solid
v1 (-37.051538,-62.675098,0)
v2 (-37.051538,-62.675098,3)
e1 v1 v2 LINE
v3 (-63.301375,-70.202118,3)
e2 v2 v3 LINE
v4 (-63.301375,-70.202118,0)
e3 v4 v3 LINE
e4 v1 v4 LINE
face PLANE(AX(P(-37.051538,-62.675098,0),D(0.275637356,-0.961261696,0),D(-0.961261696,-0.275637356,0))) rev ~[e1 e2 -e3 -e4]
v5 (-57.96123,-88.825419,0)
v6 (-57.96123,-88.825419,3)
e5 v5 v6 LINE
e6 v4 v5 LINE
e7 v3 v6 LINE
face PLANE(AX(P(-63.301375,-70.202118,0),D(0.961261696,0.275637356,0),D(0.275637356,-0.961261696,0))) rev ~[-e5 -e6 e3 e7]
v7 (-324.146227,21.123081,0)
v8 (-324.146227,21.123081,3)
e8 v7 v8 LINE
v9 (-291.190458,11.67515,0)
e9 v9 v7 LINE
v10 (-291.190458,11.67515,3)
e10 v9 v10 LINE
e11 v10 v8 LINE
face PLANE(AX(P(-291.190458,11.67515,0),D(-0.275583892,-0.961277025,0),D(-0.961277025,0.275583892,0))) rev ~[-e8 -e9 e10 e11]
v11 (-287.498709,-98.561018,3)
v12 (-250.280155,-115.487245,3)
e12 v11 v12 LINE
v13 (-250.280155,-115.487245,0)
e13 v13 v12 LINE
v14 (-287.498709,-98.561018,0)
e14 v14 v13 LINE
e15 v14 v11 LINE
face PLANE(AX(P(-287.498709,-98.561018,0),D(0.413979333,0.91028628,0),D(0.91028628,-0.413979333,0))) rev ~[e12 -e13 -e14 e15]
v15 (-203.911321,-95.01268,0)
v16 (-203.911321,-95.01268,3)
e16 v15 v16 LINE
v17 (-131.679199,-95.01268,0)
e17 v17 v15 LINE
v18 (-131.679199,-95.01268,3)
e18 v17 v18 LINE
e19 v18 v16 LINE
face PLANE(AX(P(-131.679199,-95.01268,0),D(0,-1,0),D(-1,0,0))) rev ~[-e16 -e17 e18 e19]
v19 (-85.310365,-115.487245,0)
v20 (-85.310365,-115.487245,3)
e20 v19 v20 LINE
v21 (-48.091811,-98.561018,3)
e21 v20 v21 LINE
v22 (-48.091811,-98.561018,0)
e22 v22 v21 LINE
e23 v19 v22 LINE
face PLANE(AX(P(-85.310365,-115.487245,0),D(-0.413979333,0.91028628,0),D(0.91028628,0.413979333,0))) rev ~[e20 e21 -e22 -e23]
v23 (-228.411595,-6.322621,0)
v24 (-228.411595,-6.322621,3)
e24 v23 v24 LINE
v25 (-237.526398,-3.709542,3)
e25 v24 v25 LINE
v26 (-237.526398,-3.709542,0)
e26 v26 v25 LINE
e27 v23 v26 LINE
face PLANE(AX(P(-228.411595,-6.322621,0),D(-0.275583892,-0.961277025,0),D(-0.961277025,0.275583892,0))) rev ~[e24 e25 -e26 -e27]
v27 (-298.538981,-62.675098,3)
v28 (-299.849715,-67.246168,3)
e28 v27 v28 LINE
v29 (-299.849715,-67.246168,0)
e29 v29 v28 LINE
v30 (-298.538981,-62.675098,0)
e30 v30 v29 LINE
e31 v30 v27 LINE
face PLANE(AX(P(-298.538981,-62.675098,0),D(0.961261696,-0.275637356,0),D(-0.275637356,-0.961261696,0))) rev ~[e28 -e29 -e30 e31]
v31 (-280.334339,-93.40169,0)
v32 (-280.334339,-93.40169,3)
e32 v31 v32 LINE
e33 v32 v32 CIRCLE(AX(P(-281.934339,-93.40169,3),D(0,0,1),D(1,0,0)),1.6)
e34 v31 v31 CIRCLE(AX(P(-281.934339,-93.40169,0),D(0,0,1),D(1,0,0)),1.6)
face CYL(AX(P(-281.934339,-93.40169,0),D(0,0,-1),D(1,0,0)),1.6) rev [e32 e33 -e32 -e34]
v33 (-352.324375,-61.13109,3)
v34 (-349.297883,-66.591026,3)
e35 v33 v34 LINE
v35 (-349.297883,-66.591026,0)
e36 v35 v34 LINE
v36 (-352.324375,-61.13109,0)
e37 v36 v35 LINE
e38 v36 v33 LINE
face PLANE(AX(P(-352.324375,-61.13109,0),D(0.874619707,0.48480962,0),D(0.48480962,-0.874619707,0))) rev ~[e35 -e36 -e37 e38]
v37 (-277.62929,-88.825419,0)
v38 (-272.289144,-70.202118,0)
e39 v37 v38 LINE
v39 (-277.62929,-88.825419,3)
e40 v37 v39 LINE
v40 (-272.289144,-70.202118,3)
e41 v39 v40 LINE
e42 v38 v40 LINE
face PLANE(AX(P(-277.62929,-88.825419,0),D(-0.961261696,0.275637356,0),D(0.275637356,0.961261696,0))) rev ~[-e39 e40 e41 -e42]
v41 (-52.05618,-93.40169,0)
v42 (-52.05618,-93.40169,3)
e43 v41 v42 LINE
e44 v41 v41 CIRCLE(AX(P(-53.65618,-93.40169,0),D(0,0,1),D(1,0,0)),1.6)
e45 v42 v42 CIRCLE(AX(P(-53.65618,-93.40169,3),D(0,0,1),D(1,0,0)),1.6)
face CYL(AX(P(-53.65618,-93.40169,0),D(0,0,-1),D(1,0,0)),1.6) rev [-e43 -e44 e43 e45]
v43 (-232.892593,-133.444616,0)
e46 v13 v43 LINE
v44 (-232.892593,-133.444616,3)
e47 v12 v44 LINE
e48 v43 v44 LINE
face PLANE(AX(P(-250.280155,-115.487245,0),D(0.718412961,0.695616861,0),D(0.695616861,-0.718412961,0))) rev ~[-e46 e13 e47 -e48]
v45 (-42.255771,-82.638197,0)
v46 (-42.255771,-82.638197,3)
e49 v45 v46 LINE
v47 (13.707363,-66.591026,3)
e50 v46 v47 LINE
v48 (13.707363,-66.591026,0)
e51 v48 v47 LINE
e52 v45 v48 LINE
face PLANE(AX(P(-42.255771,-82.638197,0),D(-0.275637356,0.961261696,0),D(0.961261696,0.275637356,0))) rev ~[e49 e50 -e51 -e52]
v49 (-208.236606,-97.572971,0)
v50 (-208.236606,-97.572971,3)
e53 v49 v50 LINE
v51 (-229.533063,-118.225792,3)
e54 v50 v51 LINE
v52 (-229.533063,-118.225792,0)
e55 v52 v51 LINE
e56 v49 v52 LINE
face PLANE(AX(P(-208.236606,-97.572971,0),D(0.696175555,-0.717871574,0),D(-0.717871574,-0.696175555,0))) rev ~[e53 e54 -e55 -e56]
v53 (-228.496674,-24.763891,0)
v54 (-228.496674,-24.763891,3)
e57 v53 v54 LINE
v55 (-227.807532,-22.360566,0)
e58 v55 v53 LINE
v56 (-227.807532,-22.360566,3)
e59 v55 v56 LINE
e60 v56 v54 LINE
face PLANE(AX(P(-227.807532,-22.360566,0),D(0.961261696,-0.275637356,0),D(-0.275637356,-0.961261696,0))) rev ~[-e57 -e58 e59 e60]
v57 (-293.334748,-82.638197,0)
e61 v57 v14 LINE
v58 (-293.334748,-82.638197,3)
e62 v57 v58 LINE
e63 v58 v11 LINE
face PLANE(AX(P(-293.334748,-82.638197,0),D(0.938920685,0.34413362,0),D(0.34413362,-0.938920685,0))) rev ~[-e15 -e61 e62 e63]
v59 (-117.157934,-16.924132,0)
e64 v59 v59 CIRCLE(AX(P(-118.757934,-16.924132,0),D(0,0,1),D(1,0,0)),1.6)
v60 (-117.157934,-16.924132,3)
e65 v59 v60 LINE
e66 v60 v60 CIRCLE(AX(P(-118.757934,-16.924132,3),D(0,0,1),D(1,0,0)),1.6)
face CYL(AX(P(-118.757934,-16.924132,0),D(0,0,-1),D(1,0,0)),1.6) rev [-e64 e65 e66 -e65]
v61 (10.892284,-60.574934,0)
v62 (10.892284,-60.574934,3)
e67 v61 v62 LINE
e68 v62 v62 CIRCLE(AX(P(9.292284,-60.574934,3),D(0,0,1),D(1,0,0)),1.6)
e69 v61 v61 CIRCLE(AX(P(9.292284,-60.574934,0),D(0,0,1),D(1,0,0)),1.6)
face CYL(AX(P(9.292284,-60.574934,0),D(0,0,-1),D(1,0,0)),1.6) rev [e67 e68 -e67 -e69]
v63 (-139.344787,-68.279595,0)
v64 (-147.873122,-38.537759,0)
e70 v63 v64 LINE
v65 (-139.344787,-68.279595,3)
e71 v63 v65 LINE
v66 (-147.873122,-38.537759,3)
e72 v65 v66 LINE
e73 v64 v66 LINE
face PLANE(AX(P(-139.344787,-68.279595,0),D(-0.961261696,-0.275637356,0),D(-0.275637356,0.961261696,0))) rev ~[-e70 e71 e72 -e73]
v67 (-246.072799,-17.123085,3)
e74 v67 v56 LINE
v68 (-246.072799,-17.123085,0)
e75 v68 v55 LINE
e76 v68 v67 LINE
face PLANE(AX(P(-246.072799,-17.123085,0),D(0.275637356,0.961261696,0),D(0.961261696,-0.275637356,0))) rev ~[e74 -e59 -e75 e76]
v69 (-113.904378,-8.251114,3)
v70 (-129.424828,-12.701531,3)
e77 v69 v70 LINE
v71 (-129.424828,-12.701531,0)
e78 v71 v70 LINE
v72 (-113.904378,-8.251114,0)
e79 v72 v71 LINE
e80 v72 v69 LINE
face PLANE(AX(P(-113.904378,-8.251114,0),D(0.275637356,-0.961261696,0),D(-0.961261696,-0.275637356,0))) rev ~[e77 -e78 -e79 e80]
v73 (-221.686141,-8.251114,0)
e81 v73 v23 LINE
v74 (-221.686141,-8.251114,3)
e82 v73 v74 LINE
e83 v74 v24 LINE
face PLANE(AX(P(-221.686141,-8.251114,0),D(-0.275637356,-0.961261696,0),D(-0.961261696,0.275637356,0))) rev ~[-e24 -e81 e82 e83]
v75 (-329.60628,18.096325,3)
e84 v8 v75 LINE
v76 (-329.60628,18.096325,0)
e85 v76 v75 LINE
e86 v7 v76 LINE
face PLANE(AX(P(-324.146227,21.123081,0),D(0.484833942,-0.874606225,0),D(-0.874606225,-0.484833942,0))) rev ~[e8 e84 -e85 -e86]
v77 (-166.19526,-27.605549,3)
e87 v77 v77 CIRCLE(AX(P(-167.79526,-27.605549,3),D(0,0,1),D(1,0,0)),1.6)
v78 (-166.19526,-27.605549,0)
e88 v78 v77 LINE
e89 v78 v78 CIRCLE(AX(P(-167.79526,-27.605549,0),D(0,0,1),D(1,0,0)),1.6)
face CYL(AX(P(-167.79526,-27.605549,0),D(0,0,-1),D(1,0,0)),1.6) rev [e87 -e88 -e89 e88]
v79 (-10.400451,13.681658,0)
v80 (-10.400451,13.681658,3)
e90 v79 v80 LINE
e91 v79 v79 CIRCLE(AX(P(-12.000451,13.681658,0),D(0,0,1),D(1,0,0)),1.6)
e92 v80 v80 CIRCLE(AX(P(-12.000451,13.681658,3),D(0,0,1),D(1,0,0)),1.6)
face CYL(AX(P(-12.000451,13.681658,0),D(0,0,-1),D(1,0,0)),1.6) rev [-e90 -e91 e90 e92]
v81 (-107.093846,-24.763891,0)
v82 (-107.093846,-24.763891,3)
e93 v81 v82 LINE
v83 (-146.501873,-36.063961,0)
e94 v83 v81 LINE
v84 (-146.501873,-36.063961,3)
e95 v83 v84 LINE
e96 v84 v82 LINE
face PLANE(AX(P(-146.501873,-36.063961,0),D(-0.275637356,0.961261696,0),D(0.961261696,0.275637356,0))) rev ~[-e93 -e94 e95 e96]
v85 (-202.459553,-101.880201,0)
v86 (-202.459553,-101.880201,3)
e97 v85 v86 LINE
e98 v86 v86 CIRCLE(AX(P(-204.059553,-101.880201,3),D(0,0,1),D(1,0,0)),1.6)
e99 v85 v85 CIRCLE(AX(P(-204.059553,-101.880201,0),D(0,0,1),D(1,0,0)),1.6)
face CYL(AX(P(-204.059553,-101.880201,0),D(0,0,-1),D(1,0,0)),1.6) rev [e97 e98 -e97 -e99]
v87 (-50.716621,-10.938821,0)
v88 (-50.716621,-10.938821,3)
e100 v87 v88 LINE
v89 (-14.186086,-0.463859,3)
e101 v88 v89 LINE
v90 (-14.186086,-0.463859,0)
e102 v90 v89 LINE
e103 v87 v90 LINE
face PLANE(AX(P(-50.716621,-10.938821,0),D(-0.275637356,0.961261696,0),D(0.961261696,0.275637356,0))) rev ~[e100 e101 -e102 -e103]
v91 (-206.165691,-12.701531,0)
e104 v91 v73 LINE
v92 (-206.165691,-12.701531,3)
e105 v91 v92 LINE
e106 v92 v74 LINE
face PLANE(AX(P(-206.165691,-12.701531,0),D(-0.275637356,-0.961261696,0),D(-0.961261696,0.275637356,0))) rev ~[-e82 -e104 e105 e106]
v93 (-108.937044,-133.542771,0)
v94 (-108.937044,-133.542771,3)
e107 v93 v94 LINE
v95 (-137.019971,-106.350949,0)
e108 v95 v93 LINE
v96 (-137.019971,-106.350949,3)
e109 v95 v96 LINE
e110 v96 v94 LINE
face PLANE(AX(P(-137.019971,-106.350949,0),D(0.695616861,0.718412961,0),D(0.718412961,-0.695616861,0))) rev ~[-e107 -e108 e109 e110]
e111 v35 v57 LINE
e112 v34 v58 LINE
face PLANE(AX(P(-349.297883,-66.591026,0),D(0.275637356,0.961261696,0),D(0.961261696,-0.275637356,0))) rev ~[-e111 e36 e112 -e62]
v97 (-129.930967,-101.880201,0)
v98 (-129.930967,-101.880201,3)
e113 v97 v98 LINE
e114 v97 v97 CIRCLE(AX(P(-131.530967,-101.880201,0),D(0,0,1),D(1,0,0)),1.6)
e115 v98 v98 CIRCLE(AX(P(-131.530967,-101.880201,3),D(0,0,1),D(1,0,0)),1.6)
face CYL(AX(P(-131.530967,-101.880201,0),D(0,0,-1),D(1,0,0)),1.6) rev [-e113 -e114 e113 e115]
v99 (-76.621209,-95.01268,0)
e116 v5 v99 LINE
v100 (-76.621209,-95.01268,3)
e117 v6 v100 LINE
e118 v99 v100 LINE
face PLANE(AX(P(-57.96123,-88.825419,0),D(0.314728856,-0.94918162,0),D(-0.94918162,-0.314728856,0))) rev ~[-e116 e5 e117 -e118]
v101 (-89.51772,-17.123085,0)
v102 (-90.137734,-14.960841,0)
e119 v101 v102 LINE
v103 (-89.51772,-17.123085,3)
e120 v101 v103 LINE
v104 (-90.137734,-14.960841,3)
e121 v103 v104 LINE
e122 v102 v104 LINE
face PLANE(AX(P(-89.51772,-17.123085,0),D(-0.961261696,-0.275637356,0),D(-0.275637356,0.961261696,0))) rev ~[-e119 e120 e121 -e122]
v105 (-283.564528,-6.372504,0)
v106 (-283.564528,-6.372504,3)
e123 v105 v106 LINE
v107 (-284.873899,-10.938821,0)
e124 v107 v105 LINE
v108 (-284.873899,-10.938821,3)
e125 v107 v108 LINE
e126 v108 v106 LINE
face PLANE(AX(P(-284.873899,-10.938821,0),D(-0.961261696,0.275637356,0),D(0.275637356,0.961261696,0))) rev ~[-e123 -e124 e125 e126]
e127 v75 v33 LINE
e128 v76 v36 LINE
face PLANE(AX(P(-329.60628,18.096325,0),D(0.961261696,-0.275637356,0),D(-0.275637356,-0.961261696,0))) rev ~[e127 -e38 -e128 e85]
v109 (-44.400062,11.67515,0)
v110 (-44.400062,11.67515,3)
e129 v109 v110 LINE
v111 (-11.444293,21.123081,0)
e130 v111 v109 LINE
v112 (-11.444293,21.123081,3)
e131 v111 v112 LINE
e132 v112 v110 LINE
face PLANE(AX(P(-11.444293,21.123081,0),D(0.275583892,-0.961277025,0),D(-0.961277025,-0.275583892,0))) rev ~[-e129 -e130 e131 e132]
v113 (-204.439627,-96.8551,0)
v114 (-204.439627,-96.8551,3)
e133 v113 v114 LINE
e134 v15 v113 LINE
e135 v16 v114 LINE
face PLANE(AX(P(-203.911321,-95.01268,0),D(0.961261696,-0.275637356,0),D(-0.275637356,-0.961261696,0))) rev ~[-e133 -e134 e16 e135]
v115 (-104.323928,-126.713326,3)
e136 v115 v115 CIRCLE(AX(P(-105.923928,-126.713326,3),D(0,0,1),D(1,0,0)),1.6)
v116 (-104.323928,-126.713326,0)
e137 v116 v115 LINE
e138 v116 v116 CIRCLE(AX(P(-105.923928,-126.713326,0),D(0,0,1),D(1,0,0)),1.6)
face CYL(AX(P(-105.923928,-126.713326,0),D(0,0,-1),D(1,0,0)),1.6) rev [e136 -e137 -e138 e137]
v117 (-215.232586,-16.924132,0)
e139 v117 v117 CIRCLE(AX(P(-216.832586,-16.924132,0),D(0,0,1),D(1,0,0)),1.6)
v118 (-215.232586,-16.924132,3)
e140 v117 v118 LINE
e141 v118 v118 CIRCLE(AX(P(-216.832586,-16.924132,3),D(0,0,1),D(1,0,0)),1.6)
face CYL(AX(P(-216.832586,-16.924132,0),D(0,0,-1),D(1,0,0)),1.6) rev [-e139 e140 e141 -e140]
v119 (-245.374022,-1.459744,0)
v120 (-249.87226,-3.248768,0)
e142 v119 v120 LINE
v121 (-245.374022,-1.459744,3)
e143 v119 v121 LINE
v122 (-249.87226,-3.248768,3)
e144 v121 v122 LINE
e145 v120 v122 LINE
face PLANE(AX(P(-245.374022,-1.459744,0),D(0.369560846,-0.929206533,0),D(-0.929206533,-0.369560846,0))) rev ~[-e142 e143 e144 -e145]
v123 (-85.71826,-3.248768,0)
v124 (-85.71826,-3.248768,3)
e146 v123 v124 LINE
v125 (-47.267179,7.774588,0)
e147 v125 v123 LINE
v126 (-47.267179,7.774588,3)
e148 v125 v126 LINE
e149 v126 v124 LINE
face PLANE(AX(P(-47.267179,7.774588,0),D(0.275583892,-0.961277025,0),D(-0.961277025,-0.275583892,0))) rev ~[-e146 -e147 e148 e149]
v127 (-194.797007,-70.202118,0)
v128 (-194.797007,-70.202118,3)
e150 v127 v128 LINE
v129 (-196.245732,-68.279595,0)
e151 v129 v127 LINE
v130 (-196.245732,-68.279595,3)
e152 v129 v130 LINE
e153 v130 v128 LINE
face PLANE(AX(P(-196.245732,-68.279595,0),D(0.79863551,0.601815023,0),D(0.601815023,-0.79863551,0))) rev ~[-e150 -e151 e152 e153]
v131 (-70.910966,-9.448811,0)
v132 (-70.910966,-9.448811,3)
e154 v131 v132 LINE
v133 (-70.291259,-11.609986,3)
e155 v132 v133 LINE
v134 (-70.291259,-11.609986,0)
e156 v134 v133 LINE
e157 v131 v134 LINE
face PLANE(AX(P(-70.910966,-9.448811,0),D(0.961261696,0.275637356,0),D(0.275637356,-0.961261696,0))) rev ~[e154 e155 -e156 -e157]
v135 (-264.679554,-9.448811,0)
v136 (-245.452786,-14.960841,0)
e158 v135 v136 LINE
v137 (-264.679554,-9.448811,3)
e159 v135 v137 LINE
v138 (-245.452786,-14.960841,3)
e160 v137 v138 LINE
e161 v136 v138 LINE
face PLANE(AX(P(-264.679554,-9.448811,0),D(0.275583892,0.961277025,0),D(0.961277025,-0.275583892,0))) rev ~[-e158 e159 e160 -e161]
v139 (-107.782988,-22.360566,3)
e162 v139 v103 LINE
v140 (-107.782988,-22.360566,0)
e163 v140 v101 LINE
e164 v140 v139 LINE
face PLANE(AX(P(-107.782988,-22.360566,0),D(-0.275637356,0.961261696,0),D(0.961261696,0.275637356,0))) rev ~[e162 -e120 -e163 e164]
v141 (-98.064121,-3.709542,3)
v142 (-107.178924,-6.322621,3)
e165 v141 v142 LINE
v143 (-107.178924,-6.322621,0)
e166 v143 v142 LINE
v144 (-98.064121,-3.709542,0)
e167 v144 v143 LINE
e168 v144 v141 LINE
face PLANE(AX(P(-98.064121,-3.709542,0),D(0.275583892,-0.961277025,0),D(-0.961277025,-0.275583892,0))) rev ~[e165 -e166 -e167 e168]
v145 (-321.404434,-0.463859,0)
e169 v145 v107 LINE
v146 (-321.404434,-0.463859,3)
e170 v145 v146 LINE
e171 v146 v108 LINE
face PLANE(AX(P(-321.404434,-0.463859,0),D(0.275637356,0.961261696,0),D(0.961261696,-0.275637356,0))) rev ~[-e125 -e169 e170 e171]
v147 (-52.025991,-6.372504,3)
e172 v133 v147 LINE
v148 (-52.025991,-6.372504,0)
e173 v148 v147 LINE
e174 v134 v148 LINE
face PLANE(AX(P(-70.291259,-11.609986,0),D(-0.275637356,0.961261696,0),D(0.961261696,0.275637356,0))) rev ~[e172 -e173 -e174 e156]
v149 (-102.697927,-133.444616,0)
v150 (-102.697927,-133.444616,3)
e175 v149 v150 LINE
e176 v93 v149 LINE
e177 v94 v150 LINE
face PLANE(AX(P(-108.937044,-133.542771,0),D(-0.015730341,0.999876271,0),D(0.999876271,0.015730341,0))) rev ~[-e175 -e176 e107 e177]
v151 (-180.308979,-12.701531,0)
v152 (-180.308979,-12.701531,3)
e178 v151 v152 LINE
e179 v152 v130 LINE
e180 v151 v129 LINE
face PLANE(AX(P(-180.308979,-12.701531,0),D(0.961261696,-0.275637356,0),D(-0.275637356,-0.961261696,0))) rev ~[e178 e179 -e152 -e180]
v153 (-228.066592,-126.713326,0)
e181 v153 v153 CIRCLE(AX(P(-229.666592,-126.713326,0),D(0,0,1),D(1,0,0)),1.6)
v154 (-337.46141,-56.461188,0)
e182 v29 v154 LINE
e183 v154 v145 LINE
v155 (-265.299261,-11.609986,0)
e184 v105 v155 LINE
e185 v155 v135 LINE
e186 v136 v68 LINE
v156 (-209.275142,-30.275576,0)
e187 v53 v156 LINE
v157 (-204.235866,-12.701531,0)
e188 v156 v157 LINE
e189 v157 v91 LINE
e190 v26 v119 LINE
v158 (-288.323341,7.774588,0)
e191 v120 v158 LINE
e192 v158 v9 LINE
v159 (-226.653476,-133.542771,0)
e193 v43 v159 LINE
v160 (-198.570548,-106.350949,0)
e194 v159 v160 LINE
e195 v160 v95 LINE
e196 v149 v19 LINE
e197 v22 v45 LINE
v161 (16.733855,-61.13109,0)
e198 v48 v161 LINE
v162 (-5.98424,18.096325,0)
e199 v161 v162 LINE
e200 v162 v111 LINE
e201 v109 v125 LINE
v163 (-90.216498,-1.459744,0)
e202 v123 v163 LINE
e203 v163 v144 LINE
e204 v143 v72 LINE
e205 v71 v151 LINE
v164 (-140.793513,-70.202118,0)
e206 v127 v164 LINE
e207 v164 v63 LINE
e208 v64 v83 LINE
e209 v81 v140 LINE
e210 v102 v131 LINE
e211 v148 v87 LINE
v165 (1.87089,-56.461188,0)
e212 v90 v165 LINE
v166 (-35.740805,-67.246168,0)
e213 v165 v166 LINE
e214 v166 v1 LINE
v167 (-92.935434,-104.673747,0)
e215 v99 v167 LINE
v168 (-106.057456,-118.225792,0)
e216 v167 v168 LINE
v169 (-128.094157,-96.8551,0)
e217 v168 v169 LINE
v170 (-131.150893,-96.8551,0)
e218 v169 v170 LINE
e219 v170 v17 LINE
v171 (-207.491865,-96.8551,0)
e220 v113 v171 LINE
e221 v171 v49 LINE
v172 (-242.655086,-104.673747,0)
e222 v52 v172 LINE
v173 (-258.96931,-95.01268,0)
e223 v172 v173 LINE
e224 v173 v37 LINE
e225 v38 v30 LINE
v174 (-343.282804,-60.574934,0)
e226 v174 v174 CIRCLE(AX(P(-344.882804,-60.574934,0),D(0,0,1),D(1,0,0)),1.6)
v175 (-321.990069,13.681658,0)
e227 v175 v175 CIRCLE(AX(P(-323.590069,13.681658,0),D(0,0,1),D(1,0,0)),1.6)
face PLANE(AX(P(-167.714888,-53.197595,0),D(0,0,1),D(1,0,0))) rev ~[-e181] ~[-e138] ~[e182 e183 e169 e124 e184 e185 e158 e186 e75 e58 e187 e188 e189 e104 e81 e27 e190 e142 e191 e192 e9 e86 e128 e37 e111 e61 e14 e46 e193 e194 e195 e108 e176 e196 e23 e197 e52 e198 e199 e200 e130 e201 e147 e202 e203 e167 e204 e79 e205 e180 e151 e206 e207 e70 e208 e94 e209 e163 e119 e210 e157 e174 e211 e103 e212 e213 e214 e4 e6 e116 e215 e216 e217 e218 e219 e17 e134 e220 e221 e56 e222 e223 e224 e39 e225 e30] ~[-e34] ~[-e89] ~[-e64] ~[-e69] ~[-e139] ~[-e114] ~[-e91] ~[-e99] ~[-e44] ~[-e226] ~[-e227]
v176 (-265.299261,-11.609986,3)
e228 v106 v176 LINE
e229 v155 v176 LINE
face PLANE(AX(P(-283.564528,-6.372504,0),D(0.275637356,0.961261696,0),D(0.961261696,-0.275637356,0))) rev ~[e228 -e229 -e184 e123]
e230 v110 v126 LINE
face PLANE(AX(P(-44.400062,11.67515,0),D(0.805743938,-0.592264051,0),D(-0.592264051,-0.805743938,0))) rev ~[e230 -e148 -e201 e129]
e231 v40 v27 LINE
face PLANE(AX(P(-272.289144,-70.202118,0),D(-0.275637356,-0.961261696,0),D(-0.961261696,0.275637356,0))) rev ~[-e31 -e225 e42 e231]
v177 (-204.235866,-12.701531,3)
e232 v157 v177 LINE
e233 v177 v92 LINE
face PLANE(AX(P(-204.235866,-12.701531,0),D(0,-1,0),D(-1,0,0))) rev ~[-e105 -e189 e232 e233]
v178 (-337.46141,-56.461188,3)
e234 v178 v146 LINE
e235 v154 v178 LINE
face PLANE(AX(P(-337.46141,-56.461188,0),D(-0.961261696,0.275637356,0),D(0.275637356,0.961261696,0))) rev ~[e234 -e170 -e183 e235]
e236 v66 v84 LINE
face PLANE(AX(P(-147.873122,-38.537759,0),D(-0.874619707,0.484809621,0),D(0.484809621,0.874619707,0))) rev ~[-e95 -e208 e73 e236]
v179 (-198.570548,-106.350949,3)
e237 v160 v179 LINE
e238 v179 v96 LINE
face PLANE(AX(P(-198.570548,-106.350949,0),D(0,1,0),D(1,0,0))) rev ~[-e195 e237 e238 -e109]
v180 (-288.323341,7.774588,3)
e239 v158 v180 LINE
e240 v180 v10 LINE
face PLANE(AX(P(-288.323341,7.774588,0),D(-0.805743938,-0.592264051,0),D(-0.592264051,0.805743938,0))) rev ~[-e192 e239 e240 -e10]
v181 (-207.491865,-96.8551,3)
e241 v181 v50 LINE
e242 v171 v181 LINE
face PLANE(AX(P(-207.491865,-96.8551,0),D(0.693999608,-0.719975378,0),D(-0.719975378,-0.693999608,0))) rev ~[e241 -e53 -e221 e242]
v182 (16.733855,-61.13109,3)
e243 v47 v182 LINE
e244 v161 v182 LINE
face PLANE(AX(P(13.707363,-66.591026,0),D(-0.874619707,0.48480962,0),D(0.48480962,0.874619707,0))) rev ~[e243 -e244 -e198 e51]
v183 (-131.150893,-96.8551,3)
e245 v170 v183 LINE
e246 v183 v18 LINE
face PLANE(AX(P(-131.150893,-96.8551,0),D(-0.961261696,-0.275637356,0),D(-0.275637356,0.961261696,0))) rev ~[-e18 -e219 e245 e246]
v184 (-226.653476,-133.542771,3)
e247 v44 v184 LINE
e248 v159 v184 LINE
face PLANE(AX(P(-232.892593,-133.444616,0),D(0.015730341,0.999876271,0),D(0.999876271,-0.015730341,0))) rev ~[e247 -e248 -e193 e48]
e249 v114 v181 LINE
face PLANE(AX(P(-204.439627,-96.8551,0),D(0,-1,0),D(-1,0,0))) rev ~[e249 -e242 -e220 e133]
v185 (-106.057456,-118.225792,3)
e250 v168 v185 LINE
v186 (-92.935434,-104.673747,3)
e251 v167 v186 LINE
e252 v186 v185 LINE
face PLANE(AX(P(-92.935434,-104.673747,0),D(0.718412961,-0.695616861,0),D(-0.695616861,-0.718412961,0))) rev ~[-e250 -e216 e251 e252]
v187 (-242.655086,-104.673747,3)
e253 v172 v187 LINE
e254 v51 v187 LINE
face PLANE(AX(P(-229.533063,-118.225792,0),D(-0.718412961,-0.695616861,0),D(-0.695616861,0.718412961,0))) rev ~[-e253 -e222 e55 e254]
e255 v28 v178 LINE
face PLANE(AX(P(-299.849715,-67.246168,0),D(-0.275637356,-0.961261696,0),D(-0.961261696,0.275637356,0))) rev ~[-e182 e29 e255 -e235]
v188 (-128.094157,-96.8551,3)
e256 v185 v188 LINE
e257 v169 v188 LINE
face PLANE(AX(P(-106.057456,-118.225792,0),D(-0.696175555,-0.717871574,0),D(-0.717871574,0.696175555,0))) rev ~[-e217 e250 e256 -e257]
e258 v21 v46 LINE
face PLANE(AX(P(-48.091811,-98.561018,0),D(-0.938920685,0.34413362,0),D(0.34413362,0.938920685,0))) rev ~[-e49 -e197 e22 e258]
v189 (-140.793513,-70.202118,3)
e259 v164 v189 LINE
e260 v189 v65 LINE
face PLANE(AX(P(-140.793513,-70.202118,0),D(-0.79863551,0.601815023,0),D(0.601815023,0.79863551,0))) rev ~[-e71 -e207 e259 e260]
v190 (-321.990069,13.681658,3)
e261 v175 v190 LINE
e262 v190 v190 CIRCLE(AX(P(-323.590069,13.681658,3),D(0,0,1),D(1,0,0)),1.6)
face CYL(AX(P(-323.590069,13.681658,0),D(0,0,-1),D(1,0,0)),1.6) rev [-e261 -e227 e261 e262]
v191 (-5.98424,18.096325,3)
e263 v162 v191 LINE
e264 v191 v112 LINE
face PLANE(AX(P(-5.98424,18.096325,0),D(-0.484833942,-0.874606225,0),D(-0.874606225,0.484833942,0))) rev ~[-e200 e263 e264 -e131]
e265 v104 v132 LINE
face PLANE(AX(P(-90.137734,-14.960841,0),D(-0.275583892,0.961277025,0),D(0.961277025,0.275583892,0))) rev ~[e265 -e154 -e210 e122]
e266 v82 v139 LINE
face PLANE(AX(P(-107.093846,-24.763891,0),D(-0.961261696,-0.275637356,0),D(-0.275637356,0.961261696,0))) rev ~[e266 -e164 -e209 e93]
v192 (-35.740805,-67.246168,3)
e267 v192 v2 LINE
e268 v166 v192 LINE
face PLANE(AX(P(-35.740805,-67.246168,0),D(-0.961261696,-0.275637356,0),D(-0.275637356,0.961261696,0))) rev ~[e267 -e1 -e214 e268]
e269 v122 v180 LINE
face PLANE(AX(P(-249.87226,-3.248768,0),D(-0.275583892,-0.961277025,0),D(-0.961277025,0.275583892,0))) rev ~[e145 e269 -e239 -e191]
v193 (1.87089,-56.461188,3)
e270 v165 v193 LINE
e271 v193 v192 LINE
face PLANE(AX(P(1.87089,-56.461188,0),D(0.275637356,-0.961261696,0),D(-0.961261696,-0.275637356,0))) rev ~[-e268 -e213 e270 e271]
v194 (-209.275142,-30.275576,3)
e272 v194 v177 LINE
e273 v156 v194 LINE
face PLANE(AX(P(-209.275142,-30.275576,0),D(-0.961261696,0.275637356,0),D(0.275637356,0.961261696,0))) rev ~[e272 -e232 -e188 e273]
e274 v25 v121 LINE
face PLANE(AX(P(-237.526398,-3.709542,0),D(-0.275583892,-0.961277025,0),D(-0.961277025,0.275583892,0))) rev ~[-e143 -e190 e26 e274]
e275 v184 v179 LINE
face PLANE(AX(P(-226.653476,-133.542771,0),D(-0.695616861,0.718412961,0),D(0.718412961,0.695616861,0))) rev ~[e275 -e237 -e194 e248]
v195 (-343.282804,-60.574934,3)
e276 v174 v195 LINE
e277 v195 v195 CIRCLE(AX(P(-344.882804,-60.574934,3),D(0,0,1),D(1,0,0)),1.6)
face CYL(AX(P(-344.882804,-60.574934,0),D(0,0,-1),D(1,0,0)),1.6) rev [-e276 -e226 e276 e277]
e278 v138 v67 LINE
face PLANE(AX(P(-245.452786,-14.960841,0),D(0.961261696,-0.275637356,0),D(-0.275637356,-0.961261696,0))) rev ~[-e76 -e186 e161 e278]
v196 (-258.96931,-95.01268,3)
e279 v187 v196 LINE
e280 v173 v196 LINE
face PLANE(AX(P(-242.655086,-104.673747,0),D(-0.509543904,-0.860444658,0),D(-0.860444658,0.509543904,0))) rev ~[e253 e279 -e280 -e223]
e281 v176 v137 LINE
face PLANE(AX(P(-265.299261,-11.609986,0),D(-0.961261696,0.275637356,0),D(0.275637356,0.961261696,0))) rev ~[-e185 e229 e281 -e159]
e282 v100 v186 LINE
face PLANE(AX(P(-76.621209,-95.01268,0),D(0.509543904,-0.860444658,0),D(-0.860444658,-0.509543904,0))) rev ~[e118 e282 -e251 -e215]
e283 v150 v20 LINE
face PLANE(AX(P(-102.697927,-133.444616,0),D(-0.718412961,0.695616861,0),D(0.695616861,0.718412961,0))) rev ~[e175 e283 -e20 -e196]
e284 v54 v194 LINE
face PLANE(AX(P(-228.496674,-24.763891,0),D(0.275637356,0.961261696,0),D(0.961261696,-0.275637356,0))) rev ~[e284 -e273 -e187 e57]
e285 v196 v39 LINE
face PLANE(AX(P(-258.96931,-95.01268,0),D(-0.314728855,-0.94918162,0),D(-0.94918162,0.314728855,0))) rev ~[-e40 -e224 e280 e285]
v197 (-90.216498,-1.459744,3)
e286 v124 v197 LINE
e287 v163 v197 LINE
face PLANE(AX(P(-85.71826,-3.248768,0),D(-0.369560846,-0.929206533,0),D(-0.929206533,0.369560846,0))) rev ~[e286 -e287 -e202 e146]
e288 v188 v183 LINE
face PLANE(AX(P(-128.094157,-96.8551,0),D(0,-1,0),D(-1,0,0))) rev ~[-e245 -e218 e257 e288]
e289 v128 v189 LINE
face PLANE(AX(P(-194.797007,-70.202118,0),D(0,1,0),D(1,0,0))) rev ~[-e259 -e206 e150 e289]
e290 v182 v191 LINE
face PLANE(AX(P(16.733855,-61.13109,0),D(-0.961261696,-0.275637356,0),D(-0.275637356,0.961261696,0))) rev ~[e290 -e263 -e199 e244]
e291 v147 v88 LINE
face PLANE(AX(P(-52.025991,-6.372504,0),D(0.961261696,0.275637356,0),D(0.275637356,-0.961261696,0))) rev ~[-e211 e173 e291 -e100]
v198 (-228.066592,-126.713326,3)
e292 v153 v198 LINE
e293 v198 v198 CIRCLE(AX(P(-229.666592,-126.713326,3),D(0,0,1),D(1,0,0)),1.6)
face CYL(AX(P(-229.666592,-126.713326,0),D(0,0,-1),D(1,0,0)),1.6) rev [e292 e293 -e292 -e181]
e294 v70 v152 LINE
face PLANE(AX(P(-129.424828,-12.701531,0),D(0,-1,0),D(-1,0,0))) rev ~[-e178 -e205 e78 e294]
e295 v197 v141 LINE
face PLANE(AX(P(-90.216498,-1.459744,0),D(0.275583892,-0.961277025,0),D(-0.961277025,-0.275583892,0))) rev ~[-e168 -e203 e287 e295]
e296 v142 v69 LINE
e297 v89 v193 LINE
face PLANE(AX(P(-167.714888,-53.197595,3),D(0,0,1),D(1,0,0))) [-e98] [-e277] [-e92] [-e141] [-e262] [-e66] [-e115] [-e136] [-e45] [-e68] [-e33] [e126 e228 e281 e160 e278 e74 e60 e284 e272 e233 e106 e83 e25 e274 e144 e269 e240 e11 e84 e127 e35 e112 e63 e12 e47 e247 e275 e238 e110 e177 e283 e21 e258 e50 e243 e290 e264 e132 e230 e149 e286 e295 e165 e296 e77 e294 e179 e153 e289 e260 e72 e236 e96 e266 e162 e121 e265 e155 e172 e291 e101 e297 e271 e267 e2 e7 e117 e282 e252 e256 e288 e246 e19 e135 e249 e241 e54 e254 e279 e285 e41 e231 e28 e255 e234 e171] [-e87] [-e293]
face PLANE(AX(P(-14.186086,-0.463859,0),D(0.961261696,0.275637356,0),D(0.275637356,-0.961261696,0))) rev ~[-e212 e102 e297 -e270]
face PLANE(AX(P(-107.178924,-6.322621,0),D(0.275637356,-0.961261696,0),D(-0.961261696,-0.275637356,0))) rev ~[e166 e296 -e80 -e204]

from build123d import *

# Parameters (mm, degrees)
ESQUISSE1_R        = 1.6
BOSS_EXTRU_1_DEPTH = 3


with BuildPart() as part:
    # Esquisse1 → Boss.-Extru.1 (new body)
    with BuildSketch(Plane.XY):
        Polygon((-106.057456456, -118.225792128), (-128.094157446, -96.85509979), (-131.150893181, -96.85509979), (-131.679198628, -95.012679745), (-203.911321115, -95.012679745), (-204.439626562, -96.85509979), (-207.491865187, -96.85509979), (-208.236606037, -97.572971364), (-229.533063287, -118.225792128), (-242.655085998, -104.673746846), (-258.969310369, -95.012679745), (-277.629290011, -88.825419148), (-272.289144354, -70.202118055), (-298.538981418, -62.6750984), (-299.849714513, -67.246167925), (-337.461409717, -56.461187875), (-321.404434006, -0.463858857), (-284.873898651, -10.938821309), (-283.564528345, -6.372504389), (-265.299260667, -11.609985616), (-264.679553884, -9.448811229), (-245.452786066, -14.960840928), (-246.072799476, -17.123084647), (-227.807531798, -22.360565873), (-228.496674065, -24.763890567), (-209.275142378, -30.275576085), (-204.23586614, -12.701531345), (-206.165691337, -12.701531345), (-221.686141291, -8.251113935), (-228.411595336, -6.322621021), (-237.526398495, -3.709541892), (-245.374022141, -1.459744369), (-249.872259625, -3.248768002), (-288.323340616, 7.774587685), (-291.190458161, 11.675149567), (-324.146226634, 21.123080509), (-329.606279511, 18.096325283), (-352.324375235, -61.131089881), (-349.297882974, -66.591026451), (-293.334748244, -82.638197107), (-287.498708924, -98.561018129), (-250.280154874, -115.48724507), (-232.892593163, -133.444615579), (-226.653475651, -133.542771169), (-198.570548361, -106.350948678), (-137.019971382, -106.350948678), (-108.937044092, -133.542771169), (-102.69792658, -133.444615579), (-85.310364869, -115.48724507), (-48.091810819, -98.561018129), (-42.255771499, -82.638197107), (13.707363231, -66.591026451), (16.733855492, -61.131089881), (-5.984240232, 18.096325283), (-11.444293109, 21.123080509), (-44.400061582, 11.675149567), (-47.267179127, 7.774587685), (-85.718260118, -3.248768002), (-90.216497602, -1.459744369), (-98.064121248, -3.709541892), (-107.178924407, -6.322621021), (-113.904378452, -8.251113935), (-129.424828406, -12.701531345), (-180.308979115, -12.701531345), (-196.245732321, -68.279594663), (-194.797007033, -70.202118055), (-140.79351271, -70.202118055), (-139.344787422, -68.279594663), (-147.87312166, -38.537758661), (-146.501872979, -36.063960558), (-107.093845678, -24.763890567), (-107.782987945, -22.360565873), (-89.517720268, -17.123084647), (-90.137733677, -14.960840928), (-70.910965859, -9.448811229), (-70.291259076, -11.609985616), (-52.025991399, -6.372504389), (-50.716621092, -10.938821309), (-14.186085737, -0.463858857), (1.870889973, -56.461187875), (-35.740805231, -67.246167925), (-37.051538325, -62.6750984), (-63.301375389, -70.202118055), (-57.961229733, -88.825419148), (-76.621209374, -95.012679745), (-92.935433745, -104.673746846), align=None)
        with Locations((-229.666591606, -126.713325795)):
            Circle(ESQUISSE1_R, mode=Mode.SUBTRACT)
        with Locations((-204.059552706, -101.880200807)):
            Circle(ESQUISSE1_R, mode=Mode.SUBTRACT)
        with Locations((-281.934339477, -93.401689518)):
            Circle(ESQUISSE1_R, mode=Mode.SUBTRACT)
        with Locations((-344.882804027, -60.574933915)):
            Circle(ESQUISSE1_R, mode=Mode.SUBTRACT)
        with Locations((-105.923928137, -126.713325795)):
            Circle(ESQUISSE1_R, mode=Mode.SUBTRACT)
        with Locations((-131.530967037, -101.880200807)):
            Circle(ESQUISSE1_R, mode=Mode.SUBTRACT)
        with Locations((-53.656180266, -93.401689518)):
            Circle(ESQUISSE1_R, mode=Mode.SUBTRACT)
        with Locations((9.292284284, -60.574933915)):
            Circle(ESQUISSE1_R, mode=Mode.SUBTRACT)
        with Locations((-167.795259872, -27.605548894)):
            Circle(ESQUISSE1_R, mode=Mode.SUBTRACT)
        with Locations((-323.590068827, 13.68165837)):
            Circle(ESQUISSE1_R, mode=Mode.SUBTRACT)
        with Locations((-216.832585966, -16.924131519)):
            Circle(ESQUISSE1_R, mode=Mode.SUBTRACT)
        with Locations((-118.757933777, -16.924131519)):
            Circle(ESQUISSE1_R, mode=Mode.SUBTRACT)
        with Locations((-12.000450916, 13.68165837)):
            Circle(ESQUISSE1_R, mode=Mode.SUBTRACT)
    extrude(amount=BOSS_EXTRU_1_DEPTH)


solid = part.part
